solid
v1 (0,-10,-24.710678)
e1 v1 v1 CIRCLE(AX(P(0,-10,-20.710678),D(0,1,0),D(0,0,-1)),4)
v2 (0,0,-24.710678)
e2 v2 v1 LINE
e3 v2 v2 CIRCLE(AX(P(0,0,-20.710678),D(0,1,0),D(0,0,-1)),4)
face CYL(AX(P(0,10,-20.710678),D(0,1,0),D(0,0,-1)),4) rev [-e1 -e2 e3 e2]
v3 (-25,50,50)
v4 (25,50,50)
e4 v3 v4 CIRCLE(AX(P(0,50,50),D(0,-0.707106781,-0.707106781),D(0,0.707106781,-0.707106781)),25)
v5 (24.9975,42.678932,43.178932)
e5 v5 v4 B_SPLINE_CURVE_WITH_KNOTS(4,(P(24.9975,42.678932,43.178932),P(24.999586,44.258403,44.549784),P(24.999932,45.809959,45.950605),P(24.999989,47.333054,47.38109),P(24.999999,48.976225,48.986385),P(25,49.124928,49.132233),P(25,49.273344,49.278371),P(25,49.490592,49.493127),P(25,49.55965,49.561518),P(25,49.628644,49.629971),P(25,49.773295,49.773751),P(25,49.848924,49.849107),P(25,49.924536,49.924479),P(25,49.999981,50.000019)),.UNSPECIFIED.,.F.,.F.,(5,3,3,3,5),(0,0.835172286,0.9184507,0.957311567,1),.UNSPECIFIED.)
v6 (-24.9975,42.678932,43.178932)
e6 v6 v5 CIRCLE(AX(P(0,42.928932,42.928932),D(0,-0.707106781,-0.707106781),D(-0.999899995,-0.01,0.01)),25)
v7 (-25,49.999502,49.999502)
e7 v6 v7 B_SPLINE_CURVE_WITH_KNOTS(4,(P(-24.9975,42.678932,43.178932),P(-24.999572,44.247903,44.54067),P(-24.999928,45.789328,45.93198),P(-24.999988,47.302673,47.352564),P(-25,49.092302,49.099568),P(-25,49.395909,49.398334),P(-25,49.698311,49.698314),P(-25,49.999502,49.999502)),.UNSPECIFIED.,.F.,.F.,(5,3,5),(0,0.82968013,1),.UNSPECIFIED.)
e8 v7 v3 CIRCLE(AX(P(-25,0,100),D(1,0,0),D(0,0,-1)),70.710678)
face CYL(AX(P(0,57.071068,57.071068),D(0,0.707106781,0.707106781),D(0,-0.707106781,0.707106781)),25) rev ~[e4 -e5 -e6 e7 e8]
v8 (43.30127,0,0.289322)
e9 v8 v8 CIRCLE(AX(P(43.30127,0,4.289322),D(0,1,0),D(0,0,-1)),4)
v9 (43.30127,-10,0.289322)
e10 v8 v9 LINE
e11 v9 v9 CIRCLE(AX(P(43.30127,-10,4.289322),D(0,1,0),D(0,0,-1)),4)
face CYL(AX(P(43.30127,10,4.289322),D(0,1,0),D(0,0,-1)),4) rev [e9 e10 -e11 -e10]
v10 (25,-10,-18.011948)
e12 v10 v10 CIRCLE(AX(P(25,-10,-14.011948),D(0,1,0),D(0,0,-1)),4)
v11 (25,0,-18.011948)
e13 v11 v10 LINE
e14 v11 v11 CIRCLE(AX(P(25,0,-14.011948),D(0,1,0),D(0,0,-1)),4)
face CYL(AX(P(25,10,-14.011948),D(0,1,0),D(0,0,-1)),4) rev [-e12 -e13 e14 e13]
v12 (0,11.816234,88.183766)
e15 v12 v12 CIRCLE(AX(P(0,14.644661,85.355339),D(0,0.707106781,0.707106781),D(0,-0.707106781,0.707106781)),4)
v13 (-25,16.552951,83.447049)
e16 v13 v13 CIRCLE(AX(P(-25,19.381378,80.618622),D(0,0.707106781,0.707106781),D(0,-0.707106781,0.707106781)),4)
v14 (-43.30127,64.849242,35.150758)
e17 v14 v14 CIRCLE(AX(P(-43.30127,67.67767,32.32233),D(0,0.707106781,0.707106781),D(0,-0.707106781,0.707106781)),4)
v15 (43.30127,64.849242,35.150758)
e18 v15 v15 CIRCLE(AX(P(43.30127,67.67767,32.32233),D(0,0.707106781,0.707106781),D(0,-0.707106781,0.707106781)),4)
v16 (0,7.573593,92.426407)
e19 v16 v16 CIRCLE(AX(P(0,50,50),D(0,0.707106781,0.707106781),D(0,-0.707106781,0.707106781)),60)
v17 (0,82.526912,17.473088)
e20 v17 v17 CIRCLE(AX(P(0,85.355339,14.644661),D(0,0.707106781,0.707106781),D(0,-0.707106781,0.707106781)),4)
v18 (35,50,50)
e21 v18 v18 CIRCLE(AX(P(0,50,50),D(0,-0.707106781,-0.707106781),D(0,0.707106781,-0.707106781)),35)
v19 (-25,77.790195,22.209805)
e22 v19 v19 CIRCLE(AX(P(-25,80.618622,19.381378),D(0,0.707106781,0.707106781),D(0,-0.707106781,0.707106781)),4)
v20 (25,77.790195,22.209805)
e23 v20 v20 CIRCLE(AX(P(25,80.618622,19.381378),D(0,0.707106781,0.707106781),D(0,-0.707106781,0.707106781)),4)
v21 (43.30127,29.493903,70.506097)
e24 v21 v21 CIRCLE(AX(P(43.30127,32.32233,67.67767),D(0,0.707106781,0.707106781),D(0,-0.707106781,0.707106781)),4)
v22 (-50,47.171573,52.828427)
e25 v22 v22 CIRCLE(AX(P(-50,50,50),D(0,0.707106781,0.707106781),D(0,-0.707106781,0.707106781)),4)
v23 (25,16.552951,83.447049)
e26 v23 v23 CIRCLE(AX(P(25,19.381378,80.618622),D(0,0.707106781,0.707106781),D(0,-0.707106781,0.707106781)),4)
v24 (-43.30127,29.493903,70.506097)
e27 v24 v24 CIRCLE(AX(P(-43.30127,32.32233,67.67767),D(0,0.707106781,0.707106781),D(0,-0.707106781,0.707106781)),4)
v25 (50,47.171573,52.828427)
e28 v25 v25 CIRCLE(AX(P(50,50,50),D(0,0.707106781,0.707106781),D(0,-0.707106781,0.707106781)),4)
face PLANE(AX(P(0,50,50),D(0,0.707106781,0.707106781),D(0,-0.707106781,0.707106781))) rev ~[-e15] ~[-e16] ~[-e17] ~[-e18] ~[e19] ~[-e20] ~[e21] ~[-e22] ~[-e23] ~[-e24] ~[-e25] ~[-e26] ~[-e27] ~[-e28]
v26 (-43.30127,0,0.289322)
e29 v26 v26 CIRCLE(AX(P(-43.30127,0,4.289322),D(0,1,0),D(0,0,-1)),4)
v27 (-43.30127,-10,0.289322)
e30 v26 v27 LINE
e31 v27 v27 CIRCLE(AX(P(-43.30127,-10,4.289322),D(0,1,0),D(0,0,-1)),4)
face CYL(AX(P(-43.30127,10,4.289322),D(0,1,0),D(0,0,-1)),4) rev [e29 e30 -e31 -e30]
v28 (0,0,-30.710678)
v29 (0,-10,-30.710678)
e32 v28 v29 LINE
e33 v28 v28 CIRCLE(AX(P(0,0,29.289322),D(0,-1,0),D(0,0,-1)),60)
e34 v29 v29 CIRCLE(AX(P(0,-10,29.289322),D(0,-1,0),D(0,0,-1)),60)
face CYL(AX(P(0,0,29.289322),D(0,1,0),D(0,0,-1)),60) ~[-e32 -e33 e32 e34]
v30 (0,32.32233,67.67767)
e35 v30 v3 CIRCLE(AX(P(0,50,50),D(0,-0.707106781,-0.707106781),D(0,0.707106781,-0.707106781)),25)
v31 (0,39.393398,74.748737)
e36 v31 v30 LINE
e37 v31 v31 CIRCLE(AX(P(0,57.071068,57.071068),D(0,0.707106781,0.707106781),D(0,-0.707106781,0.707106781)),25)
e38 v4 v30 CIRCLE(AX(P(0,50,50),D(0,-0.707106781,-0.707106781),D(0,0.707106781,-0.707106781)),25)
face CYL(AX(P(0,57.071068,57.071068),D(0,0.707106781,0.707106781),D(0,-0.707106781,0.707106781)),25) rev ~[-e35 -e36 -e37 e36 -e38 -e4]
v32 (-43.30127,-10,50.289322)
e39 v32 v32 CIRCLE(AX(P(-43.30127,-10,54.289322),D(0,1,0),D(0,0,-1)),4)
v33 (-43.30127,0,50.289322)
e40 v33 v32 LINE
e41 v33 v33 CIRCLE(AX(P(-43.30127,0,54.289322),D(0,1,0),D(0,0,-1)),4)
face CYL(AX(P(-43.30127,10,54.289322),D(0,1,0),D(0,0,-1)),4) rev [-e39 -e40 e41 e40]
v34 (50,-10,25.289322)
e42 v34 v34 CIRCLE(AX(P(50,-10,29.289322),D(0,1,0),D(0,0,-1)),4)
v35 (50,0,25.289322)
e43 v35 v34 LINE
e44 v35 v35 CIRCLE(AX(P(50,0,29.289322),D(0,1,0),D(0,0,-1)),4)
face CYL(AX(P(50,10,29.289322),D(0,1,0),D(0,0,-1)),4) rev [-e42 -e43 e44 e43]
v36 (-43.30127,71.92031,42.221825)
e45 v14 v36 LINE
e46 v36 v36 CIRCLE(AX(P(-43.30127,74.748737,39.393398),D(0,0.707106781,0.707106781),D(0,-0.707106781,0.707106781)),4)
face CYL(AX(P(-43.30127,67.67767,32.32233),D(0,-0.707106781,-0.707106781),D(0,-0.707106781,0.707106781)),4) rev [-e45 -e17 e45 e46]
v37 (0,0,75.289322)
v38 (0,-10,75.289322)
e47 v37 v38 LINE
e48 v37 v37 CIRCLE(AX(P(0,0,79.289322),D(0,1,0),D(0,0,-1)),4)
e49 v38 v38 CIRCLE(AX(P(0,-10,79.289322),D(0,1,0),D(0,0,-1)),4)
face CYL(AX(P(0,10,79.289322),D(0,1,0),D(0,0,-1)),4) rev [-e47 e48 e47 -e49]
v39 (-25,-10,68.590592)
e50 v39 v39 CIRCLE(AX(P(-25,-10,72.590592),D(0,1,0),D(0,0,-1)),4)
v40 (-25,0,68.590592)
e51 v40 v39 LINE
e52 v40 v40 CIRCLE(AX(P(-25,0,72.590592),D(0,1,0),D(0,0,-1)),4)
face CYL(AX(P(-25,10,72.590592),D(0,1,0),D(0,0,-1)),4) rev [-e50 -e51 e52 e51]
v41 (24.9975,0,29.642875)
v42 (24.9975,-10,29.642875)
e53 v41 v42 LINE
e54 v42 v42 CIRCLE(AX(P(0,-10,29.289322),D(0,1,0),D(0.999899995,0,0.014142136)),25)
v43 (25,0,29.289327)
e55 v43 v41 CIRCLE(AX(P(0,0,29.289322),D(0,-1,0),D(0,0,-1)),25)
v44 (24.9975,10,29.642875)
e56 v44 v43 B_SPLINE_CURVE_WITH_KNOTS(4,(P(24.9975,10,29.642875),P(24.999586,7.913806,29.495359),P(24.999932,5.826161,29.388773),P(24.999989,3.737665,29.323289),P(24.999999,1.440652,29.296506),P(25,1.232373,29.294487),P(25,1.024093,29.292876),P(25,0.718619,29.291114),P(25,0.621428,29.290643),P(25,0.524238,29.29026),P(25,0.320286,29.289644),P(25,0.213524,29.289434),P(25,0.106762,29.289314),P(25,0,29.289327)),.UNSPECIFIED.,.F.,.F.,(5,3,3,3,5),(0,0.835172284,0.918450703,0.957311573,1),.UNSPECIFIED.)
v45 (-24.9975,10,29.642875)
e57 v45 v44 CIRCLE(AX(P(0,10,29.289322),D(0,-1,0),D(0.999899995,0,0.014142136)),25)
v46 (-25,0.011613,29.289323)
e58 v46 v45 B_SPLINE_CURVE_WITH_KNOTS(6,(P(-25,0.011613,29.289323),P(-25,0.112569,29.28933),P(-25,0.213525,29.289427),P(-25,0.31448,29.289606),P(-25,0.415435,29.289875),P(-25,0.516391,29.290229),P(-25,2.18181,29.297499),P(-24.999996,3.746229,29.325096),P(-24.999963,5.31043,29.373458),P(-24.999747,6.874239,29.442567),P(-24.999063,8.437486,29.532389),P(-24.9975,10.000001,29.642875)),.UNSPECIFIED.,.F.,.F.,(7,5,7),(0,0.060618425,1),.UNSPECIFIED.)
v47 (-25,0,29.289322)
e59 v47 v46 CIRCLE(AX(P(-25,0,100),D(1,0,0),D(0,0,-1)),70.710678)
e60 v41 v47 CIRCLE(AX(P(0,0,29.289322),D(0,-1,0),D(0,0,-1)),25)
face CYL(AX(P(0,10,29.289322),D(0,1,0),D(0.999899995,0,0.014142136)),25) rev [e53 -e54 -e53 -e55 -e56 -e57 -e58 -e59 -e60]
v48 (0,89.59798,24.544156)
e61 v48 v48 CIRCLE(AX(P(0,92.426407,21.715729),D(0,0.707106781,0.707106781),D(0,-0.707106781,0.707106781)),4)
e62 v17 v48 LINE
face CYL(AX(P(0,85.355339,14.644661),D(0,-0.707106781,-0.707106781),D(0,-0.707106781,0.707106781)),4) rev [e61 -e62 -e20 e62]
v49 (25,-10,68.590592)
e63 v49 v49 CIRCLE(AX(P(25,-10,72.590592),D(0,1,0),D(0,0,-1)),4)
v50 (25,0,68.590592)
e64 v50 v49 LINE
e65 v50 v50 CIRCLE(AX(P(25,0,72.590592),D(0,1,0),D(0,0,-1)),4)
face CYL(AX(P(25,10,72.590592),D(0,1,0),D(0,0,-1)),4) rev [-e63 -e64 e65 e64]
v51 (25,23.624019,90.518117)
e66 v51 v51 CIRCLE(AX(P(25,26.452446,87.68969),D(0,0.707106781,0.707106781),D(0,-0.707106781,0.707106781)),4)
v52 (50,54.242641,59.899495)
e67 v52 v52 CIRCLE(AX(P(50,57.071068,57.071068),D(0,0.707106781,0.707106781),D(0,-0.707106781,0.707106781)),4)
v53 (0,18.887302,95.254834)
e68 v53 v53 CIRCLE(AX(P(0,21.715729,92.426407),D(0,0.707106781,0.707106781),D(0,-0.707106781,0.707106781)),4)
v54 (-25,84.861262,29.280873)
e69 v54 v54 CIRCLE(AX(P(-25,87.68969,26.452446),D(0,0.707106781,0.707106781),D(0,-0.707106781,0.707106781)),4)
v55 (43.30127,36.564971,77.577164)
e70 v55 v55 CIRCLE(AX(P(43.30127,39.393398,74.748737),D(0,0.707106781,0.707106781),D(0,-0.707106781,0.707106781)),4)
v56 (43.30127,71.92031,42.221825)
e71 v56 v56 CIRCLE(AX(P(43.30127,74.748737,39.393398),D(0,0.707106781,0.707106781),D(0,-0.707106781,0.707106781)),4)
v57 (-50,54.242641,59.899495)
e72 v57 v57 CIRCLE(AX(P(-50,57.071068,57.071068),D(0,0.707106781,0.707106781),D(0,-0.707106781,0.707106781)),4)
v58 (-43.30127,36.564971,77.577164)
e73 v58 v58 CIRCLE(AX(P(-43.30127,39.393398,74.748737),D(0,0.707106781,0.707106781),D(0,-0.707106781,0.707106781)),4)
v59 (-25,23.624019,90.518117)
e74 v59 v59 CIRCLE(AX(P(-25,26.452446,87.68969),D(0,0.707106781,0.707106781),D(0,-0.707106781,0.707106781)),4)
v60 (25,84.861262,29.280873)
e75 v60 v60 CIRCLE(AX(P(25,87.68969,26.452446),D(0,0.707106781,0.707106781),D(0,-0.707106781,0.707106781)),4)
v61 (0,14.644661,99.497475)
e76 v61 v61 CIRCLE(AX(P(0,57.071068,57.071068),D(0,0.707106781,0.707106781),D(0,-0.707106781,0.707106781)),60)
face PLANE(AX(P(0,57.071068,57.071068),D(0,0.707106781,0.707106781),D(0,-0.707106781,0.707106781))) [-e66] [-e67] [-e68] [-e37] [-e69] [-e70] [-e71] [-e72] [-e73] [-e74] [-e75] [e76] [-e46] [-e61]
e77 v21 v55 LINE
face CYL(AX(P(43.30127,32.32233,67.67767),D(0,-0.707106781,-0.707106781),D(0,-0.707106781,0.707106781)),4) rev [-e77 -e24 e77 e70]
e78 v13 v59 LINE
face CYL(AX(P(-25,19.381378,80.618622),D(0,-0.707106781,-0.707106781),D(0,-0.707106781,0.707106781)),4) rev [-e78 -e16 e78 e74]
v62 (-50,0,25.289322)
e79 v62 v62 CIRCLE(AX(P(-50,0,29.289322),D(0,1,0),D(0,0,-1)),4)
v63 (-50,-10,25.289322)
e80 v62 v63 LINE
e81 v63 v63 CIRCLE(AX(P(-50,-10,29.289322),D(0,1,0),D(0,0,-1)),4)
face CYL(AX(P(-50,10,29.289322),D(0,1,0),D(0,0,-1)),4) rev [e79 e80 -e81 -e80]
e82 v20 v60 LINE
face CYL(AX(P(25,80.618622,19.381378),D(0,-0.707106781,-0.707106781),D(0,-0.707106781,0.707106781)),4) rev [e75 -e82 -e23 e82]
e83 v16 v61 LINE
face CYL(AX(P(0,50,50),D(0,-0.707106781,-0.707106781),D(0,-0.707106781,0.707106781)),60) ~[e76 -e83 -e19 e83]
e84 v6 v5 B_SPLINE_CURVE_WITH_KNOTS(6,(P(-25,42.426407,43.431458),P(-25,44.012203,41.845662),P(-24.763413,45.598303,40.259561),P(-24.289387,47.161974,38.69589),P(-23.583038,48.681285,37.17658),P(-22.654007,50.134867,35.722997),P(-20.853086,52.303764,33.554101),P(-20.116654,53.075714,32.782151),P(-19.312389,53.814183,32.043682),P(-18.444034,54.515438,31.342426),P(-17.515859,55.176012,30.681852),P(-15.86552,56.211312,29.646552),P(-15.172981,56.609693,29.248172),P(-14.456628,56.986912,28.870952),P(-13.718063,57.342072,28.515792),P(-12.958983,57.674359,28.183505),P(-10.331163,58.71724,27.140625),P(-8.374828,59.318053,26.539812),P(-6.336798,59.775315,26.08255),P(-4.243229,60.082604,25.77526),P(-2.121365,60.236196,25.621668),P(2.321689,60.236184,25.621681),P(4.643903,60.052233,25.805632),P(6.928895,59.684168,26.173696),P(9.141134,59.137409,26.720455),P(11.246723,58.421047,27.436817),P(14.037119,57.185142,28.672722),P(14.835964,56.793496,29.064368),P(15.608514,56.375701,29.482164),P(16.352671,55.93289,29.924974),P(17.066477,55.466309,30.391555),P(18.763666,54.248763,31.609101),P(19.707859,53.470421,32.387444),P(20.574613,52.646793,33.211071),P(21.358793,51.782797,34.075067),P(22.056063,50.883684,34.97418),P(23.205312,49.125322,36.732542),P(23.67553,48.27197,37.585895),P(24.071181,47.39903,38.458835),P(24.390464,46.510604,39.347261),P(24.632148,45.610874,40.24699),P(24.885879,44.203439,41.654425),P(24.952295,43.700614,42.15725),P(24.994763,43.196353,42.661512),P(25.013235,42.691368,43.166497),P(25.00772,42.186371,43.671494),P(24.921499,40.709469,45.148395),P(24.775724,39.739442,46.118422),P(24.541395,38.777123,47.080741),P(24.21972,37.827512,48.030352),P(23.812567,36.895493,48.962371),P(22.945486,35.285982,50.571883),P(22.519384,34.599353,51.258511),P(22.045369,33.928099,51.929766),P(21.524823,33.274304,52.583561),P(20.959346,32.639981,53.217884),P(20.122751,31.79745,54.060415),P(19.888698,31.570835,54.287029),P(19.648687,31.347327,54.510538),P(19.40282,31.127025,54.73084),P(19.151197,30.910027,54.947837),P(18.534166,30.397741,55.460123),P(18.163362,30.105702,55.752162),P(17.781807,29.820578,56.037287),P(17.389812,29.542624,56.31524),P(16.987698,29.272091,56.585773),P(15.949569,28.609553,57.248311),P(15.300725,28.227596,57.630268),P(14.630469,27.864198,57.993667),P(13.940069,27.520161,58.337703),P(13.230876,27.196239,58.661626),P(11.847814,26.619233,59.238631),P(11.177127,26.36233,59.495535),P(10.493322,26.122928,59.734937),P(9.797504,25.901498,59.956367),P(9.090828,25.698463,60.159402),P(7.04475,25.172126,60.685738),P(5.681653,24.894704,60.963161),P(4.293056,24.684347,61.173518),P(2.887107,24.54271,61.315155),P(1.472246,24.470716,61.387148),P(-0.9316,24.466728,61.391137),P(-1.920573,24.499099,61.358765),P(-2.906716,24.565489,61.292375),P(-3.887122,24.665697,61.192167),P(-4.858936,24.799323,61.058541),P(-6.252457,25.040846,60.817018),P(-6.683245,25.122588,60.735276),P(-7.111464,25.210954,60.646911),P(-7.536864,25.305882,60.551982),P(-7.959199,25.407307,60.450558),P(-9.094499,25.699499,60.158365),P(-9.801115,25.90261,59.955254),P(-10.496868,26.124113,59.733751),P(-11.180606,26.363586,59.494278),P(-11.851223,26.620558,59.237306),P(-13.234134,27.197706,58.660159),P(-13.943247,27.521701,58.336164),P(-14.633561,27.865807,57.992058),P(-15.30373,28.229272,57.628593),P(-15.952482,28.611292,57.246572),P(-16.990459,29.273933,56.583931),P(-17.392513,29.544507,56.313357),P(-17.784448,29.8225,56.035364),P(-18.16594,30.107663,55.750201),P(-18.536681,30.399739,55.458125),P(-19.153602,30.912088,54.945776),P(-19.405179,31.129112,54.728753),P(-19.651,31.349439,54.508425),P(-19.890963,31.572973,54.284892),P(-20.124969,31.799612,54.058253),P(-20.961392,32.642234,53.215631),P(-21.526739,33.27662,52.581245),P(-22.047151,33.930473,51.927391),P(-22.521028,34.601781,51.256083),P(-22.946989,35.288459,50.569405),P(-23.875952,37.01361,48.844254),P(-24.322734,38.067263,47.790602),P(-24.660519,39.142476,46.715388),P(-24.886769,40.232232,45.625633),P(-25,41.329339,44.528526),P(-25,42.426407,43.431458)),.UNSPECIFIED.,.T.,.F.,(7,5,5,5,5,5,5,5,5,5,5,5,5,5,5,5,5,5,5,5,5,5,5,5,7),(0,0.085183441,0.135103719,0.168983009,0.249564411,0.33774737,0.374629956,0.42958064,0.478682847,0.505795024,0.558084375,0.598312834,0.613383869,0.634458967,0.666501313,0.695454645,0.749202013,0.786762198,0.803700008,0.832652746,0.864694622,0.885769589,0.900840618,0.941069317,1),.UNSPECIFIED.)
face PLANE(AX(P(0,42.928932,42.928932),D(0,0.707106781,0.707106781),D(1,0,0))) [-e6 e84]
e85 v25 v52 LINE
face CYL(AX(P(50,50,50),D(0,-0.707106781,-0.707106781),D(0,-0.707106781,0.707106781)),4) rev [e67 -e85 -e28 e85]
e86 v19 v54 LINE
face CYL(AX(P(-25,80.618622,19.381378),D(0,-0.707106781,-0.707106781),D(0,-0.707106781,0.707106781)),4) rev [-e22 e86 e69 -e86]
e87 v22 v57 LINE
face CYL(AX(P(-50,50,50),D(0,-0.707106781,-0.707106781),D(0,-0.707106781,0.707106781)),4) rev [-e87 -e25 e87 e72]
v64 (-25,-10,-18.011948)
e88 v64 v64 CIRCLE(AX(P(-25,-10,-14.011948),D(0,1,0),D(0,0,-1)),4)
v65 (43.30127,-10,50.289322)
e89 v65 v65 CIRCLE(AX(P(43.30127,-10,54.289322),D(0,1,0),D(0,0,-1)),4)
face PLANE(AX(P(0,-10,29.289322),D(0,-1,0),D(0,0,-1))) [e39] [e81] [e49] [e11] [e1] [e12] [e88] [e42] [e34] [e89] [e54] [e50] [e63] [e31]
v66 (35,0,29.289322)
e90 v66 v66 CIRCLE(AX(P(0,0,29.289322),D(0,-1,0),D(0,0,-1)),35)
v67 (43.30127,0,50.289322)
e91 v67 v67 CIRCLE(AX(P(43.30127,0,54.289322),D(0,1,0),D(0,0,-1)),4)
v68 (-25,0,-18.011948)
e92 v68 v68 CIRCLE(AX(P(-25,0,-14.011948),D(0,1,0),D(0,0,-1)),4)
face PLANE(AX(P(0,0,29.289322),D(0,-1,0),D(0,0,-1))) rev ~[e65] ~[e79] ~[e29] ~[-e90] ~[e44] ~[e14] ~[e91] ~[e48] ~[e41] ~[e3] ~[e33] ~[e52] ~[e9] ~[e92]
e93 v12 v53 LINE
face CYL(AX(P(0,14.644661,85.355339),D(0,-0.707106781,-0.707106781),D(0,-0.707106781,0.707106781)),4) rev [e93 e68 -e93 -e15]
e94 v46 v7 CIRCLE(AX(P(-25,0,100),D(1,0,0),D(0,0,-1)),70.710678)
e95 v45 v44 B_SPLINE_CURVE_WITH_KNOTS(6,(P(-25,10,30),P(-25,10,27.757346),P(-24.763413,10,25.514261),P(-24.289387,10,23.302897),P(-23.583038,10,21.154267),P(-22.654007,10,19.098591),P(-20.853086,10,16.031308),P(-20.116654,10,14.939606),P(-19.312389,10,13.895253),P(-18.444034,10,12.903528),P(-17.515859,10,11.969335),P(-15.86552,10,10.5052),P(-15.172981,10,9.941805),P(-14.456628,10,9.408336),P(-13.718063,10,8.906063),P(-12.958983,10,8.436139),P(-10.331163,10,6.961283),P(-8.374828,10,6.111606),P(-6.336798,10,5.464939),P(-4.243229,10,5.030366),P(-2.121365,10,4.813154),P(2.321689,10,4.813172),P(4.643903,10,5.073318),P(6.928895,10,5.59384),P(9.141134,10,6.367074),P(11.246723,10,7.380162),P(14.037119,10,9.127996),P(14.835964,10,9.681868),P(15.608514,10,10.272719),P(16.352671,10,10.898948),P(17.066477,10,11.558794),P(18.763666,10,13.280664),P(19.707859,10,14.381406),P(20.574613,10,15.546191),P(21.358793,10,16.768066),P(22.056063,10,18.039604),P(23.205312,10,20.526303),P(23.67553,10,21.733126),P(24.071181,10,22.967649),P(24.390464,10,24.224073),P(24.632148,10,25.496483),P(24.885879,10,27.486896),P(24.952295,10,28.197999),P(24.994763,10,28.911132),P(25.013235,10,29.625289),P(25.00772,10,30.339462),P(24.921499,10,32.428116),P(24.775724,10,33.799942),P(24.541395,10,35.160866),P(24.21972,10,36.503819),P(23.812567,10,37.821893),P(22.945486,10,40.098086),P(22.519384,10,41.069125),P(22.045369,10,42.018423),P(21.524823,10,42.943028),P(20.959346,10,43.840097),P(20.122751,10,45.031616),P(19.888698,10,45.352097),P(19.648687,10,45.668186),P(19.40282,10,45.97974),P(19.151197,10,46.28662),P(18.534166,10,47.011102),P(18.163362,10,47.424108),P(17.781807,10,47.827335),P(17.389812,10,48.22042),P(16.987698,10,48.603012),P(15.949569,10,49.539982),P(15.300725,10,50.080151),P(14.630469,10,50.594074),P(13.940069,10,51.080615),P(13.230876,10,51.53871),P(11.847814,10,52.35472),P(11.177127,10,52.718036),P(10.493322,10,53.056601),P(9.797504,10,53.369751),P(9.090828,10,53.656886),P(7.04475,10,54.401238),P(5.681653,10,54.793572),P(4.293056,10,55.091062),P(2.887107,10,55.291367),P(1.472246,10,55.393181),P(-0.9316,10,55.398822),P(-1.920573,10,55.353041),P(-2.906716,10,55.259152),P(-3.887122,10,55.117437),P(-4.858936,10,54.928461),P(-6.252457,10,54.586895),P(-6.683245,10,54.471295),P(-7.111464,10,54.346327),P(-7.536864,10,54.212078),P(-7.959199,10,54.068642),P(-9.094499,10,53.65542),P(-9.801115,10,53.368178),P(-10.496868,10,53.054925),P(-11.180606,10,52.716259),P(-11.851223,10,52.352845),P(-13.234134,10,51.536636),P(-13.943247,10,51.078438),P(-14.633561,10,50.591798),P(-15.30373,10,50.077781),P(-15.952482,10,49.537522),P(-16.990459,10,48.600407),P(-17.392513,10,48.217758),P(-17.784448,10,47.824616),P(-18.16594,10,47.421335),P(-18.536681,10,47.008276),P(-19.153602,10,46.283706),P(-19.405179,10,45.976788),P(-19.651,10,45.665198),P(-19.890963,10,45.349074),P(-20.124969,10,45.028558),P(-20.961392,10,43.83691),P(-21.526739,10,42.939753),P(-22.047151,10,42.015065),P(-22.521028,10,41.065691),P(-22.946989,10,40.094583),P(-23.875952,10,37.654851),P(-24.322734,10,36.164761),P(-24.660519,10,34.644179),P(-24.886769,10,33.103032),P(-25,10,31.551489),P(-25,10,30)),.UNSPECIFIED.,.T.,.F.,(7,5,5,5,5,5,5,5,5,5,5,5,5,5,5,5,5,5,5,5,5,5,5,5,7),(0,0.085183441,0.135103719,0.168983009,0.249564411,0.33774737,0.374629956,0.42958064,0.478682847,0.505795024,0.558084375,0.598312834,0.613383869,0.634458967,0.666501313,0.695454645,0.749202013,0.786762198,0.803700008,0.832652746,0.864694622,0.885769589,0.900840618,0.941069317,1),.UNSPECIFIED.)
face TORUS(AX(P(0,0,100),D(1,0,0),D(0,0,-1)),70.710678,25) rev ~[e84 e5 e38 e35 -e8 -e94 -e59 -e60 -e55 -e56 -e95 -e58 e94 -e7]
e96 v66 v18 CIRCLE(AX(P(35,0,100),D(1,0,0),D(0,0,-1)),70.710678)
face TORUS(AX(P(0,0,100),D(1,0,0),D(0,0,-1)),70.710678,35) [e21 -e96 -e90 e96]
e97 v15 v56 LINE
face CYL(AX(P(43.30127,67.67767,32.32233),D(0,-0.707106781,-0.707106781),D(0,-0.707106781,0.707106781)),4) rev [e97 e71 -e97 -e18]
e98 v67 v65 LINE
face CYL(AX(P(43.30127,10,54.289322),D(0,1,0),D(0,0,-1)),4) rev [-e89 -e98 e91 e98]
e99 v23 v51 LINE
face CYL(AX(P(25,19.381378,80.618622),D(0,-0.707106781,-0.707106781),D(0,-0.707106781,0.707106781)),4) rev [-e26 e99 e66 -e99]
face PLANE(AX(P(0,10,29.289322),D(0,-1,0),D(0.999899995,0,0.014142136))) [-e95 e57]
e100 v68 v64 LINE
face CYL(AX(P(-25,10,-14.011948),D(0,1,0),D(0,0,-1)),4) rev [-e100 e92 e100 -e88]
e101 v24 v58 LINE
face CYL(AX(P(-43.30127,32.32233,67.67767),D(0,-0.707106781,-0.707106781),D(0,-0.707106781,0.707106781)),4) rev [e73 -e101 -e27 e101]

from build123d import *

# Parameters (mm, degrees)
SKETCH17_R              = 35
SKETCH18_R              = 60
BOSS_EXTRUDE2_DEPTH     = 10
SKETCH19_R              = 60
BOSS_EXTRUDE3_DEPTH     = 10
CUT_EXTRUDE1_DEPTH      = 153.968934548
CUT_EXTRUDE1_DEPTH_BACK = 10
SKETCH20_R              = 4
SKETCH21_R              = 25
CUT_EXTRUDE3_DEPTH      = 153.968934548
CUT_EXTRUDE3_DEPTH_BACK = 10
SKETCH21_3_R            = 25
SKETCH22_R              = 25
CUT_EXTRUDE10_DEPTH     = 10
CUT_EXTRUDE11_START     = 10
SKETCH22_3_R            = 25
CUT_EXTRUDE11_DEPTH     = 10
SKETCH24_R              = 4
CUT_EXTRUDE18_DEPTH     = 10


with BuildPart() as part:
    # Sweep1: sweep along a path in Sketch16
    with BuildLine(Plane(origin=(0, 0, 0), x_dir=(0, 0, -1), z_dir=(1, 0, 0))) as sweep1_path:
        ThreePointArc((0, 0), (-7.612046749, 38.268343237), (-29.289321881, 70.710678119))
    # Sketch17 → Sweep1 (sweep)
    with BuildSketch(Plane(origin=(0, 0, 0), x_dir=(1, 0, 0), z_dir=(0, 1, 0))):
        with Locations((0, -29.289321881)):
            Circle(SKETCH17_R)
    sweep(path=sweep1_path.line)

    # Sketch18 → Boss-Extrude2 (add)
    with BuildSketch(Plane(origin=(0, 0, 0), x_dir=(-1, 0, 0), z_dir=(0, -1, 0))):
        with Locations(Location((0, -29.289321881, 0), (0, 0, 90))):
            Circle(SKETCH18_R)
    extrude(amount=BOSS_EXTRUDE2_DEPTH)

    # Sketch19 → Boss-Extrude3 (add)
    with BuildSketch(Plane(origin=(0, 50, 50), x_dir=(1, 0, 0), z_dir=(0, 0.7071067811865513, 0.7071067811865438))):
        with Locations(Location((0, 0, 0), (0, 0, 270))):
            Circle(SKETCH19_R)
    extrude(amount=BOSS_EXTRUDE3_DEPTH)

    # Sketch20 → Cut-Extrude1 (cut, two sides: drawn at the far end of the back side and taken through both)
    with BuildSketch(Plane(origin=(0, 0, 0), x_dir=(-1, 0, 0), z_dir=(0, -1, 0)).offset(-CUT_EXTRUDE1_DEPTH_BACK)):
        with Locations(Location((0, 20.710678119, 0), (0, 0, 90))):
            Circle(SKETCH20_R)
        with Locations(Location((25, 14.011948308, 0), (0, 0, 90))):
            Circle(SKETCH20_R)
        with Locations(Location((43.301270189, -4.289321881, 0), (0, 0, 90))):
            Circle(SKETCH20_R)
        with Locations(Location((50, -29.289321881, 0), (0, 0, 90))):
            Circle(SKETCH20_R)
        with Locations(Location((43.301270189, -54.289321881, 0), (0, 0, 90))):
            Circle(SKETCH20_R)
        with Locations(Location((25, -72.590592071, 0), (0, 0, 90))):
            Circle(SKETCH20_R)
        with Locations(Location((0, -79.289321881, 0), (0, 0, 90))):
            Circle(SKETCH20_R)
        with Locations(Location((-25, -72.590592071, 0), (0, 0, 90))):
            Circle(SKETCH20_R)
        with Locations(Location((-43.301270189, -54.289321881, 0), (0, 0, 90))):
            Circle(SKETCH20_R)
        with Locations(Location((-50, -29.289321881, 0), (0, 0, 90))):
            Circle(SKETCH20_R)
        with Locations(Location((-43.301270189, -4.289321881, 0), (0, 0, 90))):
            Circle(SKETCH20_R)
        with Locations(Location((-25, 14.011948308, 0), (0, 0, 90))):
            Circle(SKETCH20_R)
    extrude(amount=CUT_EXTRUDE1_DEPTH + CUT_EXTRUDE1_DEPTH_BACK, mode=Mode.SUBTRACT)

    # Cut-Sweep2: sweep along a path in Sketch16<3>
    with BuildLine(Plane(origin=(0, 0, 0), x_dir=(0, 0, -1), z_dir=(1, 0, 0))) as cut_sweep2_path:
        ThreePointArc((0, 0), (-7.612046749, 38.268343237), (-29.289321881, 70.710678119))
    # Sketch21 → Cut-Sweep2 (sweep, cut)
    with BuildSketch(Plane(origin=(0, 0, 0), x_dir=(-1, 0, 0), z_dir=(0, -1, 0))):
        with Locations((0, -29.289321881)):
            Circle(SKETCH21_R)
    sweep(path=cut_sweep2_path.line, mode=Mode.SUBTRACT)

    # Sketch21<3> → Cut-Extrude3 (cut, two sides: drawn at the far end of the back side and taken through both)
    with BuildSketch(Plane(origin=(0, 0, 0), x_dir=(-1, 0, 0), z_dir=(0, -1, 0)).offset(-CUT_EXTRUDE3_DEPTH_BACK)):
        with Locations(Location((0, -29.289321881, 0), (0, 0, 180.810311696))):
            Circle(SKETCH21_3_R)
    extrude(amount=CUT_EXTRUDE3_DEPTH + CUT_EXTRUDE3_DEPTH_BACK, mode=Mode.SUBTRACT)

    # Sketch22 → Cut-Extrude10 (cut)
    with BuildSketch(Plane(origin=(0, 50, 50), x_dir=(1, 0, 0), z_dir=(0, 0.7071067811865513, 0.7071067811865438))):
        Circle(SKETCH22_R)
    extrude(amount=-CUT_EXTRUDE10_DEPTH, mode=Mode.SUBTRACT)

    # Sketch22<3> → Cut-Extrude11 (cut)
    with BuildSketch(Plane(origin=(0, 50, 50), x_dir=(1, 0, 0), z_dir=(0, 0.7071067811865513, 0.7071067811865438)).offset(CUT_EXTRUDE11_START)):
        with Locations(Location((0, 0, 0), (0, 0, 270))):
            Circle(SKETCH22_3_R)
    extrude(amount=-CUT_EXTRUDE11_DEPTH, mode=Mode.SUBTRACT)

    # Sketch24 → Cut-Extrude18 (cut)
    with BuildSketch(Plane(origin=(0, 50, 50), x_dir=(1, 0, 0), z_dir=(0, 0.7071067811865513, 0.7071067811865438))):
        with Locations(Location((0, 50, 0), (0, 0, 270))):
            Circle(SKETCH24_R)
        with Locations(Location((25, 43.301270189, 0), (0, 0, 270))):
            Circle(SKETCH24_R)
        with Locations(Location((43.301270189, 25, 0), (0, 0, 270))):
            Circle(SKETCH24_R)
        with Locations(Location((50, 0, 0), (0, 0, 270))):
            Circle(SKETCH24_R)
        with Locations(Location((43.301270189, -25, 0), (0, 0, 270))):
            Circle(SKETCH24_R)
        with Locations(Location((25, -43.301270189, 0), (0, 0, 270))):
            Circle(SKETCH24_R)
        with Locations(Location((0, -50, 0), (0, 0, 270))):
            Circle(SKETCH24_R)
        with Locations(Location((-25, -43.301270189, 0), (0, 0, 270))):
            Circle(SKETCH24_R)
        with Locations(Location((-43.301270189, -25, 0), (0, 0, 270))):
            Circle(SKETCH24_R)
        with Locations(Location((-50, 0, 0), (0, 0, 270))):
            Circle(SKETCH24_R)
        with Locations(Location((-43.301270189, 25, 0), (0, 0, 270))):
            Circle(SKETCH24_R)
        with Locations(Location((-25, 43.301270189, 0), (0, 0, 270))):
            Circle(SKETCH24_R)
    extrude(amount=CUT_EXTRUDE18_DEPTH, mode=Mode.SUBTRACT)


solid = part.part
